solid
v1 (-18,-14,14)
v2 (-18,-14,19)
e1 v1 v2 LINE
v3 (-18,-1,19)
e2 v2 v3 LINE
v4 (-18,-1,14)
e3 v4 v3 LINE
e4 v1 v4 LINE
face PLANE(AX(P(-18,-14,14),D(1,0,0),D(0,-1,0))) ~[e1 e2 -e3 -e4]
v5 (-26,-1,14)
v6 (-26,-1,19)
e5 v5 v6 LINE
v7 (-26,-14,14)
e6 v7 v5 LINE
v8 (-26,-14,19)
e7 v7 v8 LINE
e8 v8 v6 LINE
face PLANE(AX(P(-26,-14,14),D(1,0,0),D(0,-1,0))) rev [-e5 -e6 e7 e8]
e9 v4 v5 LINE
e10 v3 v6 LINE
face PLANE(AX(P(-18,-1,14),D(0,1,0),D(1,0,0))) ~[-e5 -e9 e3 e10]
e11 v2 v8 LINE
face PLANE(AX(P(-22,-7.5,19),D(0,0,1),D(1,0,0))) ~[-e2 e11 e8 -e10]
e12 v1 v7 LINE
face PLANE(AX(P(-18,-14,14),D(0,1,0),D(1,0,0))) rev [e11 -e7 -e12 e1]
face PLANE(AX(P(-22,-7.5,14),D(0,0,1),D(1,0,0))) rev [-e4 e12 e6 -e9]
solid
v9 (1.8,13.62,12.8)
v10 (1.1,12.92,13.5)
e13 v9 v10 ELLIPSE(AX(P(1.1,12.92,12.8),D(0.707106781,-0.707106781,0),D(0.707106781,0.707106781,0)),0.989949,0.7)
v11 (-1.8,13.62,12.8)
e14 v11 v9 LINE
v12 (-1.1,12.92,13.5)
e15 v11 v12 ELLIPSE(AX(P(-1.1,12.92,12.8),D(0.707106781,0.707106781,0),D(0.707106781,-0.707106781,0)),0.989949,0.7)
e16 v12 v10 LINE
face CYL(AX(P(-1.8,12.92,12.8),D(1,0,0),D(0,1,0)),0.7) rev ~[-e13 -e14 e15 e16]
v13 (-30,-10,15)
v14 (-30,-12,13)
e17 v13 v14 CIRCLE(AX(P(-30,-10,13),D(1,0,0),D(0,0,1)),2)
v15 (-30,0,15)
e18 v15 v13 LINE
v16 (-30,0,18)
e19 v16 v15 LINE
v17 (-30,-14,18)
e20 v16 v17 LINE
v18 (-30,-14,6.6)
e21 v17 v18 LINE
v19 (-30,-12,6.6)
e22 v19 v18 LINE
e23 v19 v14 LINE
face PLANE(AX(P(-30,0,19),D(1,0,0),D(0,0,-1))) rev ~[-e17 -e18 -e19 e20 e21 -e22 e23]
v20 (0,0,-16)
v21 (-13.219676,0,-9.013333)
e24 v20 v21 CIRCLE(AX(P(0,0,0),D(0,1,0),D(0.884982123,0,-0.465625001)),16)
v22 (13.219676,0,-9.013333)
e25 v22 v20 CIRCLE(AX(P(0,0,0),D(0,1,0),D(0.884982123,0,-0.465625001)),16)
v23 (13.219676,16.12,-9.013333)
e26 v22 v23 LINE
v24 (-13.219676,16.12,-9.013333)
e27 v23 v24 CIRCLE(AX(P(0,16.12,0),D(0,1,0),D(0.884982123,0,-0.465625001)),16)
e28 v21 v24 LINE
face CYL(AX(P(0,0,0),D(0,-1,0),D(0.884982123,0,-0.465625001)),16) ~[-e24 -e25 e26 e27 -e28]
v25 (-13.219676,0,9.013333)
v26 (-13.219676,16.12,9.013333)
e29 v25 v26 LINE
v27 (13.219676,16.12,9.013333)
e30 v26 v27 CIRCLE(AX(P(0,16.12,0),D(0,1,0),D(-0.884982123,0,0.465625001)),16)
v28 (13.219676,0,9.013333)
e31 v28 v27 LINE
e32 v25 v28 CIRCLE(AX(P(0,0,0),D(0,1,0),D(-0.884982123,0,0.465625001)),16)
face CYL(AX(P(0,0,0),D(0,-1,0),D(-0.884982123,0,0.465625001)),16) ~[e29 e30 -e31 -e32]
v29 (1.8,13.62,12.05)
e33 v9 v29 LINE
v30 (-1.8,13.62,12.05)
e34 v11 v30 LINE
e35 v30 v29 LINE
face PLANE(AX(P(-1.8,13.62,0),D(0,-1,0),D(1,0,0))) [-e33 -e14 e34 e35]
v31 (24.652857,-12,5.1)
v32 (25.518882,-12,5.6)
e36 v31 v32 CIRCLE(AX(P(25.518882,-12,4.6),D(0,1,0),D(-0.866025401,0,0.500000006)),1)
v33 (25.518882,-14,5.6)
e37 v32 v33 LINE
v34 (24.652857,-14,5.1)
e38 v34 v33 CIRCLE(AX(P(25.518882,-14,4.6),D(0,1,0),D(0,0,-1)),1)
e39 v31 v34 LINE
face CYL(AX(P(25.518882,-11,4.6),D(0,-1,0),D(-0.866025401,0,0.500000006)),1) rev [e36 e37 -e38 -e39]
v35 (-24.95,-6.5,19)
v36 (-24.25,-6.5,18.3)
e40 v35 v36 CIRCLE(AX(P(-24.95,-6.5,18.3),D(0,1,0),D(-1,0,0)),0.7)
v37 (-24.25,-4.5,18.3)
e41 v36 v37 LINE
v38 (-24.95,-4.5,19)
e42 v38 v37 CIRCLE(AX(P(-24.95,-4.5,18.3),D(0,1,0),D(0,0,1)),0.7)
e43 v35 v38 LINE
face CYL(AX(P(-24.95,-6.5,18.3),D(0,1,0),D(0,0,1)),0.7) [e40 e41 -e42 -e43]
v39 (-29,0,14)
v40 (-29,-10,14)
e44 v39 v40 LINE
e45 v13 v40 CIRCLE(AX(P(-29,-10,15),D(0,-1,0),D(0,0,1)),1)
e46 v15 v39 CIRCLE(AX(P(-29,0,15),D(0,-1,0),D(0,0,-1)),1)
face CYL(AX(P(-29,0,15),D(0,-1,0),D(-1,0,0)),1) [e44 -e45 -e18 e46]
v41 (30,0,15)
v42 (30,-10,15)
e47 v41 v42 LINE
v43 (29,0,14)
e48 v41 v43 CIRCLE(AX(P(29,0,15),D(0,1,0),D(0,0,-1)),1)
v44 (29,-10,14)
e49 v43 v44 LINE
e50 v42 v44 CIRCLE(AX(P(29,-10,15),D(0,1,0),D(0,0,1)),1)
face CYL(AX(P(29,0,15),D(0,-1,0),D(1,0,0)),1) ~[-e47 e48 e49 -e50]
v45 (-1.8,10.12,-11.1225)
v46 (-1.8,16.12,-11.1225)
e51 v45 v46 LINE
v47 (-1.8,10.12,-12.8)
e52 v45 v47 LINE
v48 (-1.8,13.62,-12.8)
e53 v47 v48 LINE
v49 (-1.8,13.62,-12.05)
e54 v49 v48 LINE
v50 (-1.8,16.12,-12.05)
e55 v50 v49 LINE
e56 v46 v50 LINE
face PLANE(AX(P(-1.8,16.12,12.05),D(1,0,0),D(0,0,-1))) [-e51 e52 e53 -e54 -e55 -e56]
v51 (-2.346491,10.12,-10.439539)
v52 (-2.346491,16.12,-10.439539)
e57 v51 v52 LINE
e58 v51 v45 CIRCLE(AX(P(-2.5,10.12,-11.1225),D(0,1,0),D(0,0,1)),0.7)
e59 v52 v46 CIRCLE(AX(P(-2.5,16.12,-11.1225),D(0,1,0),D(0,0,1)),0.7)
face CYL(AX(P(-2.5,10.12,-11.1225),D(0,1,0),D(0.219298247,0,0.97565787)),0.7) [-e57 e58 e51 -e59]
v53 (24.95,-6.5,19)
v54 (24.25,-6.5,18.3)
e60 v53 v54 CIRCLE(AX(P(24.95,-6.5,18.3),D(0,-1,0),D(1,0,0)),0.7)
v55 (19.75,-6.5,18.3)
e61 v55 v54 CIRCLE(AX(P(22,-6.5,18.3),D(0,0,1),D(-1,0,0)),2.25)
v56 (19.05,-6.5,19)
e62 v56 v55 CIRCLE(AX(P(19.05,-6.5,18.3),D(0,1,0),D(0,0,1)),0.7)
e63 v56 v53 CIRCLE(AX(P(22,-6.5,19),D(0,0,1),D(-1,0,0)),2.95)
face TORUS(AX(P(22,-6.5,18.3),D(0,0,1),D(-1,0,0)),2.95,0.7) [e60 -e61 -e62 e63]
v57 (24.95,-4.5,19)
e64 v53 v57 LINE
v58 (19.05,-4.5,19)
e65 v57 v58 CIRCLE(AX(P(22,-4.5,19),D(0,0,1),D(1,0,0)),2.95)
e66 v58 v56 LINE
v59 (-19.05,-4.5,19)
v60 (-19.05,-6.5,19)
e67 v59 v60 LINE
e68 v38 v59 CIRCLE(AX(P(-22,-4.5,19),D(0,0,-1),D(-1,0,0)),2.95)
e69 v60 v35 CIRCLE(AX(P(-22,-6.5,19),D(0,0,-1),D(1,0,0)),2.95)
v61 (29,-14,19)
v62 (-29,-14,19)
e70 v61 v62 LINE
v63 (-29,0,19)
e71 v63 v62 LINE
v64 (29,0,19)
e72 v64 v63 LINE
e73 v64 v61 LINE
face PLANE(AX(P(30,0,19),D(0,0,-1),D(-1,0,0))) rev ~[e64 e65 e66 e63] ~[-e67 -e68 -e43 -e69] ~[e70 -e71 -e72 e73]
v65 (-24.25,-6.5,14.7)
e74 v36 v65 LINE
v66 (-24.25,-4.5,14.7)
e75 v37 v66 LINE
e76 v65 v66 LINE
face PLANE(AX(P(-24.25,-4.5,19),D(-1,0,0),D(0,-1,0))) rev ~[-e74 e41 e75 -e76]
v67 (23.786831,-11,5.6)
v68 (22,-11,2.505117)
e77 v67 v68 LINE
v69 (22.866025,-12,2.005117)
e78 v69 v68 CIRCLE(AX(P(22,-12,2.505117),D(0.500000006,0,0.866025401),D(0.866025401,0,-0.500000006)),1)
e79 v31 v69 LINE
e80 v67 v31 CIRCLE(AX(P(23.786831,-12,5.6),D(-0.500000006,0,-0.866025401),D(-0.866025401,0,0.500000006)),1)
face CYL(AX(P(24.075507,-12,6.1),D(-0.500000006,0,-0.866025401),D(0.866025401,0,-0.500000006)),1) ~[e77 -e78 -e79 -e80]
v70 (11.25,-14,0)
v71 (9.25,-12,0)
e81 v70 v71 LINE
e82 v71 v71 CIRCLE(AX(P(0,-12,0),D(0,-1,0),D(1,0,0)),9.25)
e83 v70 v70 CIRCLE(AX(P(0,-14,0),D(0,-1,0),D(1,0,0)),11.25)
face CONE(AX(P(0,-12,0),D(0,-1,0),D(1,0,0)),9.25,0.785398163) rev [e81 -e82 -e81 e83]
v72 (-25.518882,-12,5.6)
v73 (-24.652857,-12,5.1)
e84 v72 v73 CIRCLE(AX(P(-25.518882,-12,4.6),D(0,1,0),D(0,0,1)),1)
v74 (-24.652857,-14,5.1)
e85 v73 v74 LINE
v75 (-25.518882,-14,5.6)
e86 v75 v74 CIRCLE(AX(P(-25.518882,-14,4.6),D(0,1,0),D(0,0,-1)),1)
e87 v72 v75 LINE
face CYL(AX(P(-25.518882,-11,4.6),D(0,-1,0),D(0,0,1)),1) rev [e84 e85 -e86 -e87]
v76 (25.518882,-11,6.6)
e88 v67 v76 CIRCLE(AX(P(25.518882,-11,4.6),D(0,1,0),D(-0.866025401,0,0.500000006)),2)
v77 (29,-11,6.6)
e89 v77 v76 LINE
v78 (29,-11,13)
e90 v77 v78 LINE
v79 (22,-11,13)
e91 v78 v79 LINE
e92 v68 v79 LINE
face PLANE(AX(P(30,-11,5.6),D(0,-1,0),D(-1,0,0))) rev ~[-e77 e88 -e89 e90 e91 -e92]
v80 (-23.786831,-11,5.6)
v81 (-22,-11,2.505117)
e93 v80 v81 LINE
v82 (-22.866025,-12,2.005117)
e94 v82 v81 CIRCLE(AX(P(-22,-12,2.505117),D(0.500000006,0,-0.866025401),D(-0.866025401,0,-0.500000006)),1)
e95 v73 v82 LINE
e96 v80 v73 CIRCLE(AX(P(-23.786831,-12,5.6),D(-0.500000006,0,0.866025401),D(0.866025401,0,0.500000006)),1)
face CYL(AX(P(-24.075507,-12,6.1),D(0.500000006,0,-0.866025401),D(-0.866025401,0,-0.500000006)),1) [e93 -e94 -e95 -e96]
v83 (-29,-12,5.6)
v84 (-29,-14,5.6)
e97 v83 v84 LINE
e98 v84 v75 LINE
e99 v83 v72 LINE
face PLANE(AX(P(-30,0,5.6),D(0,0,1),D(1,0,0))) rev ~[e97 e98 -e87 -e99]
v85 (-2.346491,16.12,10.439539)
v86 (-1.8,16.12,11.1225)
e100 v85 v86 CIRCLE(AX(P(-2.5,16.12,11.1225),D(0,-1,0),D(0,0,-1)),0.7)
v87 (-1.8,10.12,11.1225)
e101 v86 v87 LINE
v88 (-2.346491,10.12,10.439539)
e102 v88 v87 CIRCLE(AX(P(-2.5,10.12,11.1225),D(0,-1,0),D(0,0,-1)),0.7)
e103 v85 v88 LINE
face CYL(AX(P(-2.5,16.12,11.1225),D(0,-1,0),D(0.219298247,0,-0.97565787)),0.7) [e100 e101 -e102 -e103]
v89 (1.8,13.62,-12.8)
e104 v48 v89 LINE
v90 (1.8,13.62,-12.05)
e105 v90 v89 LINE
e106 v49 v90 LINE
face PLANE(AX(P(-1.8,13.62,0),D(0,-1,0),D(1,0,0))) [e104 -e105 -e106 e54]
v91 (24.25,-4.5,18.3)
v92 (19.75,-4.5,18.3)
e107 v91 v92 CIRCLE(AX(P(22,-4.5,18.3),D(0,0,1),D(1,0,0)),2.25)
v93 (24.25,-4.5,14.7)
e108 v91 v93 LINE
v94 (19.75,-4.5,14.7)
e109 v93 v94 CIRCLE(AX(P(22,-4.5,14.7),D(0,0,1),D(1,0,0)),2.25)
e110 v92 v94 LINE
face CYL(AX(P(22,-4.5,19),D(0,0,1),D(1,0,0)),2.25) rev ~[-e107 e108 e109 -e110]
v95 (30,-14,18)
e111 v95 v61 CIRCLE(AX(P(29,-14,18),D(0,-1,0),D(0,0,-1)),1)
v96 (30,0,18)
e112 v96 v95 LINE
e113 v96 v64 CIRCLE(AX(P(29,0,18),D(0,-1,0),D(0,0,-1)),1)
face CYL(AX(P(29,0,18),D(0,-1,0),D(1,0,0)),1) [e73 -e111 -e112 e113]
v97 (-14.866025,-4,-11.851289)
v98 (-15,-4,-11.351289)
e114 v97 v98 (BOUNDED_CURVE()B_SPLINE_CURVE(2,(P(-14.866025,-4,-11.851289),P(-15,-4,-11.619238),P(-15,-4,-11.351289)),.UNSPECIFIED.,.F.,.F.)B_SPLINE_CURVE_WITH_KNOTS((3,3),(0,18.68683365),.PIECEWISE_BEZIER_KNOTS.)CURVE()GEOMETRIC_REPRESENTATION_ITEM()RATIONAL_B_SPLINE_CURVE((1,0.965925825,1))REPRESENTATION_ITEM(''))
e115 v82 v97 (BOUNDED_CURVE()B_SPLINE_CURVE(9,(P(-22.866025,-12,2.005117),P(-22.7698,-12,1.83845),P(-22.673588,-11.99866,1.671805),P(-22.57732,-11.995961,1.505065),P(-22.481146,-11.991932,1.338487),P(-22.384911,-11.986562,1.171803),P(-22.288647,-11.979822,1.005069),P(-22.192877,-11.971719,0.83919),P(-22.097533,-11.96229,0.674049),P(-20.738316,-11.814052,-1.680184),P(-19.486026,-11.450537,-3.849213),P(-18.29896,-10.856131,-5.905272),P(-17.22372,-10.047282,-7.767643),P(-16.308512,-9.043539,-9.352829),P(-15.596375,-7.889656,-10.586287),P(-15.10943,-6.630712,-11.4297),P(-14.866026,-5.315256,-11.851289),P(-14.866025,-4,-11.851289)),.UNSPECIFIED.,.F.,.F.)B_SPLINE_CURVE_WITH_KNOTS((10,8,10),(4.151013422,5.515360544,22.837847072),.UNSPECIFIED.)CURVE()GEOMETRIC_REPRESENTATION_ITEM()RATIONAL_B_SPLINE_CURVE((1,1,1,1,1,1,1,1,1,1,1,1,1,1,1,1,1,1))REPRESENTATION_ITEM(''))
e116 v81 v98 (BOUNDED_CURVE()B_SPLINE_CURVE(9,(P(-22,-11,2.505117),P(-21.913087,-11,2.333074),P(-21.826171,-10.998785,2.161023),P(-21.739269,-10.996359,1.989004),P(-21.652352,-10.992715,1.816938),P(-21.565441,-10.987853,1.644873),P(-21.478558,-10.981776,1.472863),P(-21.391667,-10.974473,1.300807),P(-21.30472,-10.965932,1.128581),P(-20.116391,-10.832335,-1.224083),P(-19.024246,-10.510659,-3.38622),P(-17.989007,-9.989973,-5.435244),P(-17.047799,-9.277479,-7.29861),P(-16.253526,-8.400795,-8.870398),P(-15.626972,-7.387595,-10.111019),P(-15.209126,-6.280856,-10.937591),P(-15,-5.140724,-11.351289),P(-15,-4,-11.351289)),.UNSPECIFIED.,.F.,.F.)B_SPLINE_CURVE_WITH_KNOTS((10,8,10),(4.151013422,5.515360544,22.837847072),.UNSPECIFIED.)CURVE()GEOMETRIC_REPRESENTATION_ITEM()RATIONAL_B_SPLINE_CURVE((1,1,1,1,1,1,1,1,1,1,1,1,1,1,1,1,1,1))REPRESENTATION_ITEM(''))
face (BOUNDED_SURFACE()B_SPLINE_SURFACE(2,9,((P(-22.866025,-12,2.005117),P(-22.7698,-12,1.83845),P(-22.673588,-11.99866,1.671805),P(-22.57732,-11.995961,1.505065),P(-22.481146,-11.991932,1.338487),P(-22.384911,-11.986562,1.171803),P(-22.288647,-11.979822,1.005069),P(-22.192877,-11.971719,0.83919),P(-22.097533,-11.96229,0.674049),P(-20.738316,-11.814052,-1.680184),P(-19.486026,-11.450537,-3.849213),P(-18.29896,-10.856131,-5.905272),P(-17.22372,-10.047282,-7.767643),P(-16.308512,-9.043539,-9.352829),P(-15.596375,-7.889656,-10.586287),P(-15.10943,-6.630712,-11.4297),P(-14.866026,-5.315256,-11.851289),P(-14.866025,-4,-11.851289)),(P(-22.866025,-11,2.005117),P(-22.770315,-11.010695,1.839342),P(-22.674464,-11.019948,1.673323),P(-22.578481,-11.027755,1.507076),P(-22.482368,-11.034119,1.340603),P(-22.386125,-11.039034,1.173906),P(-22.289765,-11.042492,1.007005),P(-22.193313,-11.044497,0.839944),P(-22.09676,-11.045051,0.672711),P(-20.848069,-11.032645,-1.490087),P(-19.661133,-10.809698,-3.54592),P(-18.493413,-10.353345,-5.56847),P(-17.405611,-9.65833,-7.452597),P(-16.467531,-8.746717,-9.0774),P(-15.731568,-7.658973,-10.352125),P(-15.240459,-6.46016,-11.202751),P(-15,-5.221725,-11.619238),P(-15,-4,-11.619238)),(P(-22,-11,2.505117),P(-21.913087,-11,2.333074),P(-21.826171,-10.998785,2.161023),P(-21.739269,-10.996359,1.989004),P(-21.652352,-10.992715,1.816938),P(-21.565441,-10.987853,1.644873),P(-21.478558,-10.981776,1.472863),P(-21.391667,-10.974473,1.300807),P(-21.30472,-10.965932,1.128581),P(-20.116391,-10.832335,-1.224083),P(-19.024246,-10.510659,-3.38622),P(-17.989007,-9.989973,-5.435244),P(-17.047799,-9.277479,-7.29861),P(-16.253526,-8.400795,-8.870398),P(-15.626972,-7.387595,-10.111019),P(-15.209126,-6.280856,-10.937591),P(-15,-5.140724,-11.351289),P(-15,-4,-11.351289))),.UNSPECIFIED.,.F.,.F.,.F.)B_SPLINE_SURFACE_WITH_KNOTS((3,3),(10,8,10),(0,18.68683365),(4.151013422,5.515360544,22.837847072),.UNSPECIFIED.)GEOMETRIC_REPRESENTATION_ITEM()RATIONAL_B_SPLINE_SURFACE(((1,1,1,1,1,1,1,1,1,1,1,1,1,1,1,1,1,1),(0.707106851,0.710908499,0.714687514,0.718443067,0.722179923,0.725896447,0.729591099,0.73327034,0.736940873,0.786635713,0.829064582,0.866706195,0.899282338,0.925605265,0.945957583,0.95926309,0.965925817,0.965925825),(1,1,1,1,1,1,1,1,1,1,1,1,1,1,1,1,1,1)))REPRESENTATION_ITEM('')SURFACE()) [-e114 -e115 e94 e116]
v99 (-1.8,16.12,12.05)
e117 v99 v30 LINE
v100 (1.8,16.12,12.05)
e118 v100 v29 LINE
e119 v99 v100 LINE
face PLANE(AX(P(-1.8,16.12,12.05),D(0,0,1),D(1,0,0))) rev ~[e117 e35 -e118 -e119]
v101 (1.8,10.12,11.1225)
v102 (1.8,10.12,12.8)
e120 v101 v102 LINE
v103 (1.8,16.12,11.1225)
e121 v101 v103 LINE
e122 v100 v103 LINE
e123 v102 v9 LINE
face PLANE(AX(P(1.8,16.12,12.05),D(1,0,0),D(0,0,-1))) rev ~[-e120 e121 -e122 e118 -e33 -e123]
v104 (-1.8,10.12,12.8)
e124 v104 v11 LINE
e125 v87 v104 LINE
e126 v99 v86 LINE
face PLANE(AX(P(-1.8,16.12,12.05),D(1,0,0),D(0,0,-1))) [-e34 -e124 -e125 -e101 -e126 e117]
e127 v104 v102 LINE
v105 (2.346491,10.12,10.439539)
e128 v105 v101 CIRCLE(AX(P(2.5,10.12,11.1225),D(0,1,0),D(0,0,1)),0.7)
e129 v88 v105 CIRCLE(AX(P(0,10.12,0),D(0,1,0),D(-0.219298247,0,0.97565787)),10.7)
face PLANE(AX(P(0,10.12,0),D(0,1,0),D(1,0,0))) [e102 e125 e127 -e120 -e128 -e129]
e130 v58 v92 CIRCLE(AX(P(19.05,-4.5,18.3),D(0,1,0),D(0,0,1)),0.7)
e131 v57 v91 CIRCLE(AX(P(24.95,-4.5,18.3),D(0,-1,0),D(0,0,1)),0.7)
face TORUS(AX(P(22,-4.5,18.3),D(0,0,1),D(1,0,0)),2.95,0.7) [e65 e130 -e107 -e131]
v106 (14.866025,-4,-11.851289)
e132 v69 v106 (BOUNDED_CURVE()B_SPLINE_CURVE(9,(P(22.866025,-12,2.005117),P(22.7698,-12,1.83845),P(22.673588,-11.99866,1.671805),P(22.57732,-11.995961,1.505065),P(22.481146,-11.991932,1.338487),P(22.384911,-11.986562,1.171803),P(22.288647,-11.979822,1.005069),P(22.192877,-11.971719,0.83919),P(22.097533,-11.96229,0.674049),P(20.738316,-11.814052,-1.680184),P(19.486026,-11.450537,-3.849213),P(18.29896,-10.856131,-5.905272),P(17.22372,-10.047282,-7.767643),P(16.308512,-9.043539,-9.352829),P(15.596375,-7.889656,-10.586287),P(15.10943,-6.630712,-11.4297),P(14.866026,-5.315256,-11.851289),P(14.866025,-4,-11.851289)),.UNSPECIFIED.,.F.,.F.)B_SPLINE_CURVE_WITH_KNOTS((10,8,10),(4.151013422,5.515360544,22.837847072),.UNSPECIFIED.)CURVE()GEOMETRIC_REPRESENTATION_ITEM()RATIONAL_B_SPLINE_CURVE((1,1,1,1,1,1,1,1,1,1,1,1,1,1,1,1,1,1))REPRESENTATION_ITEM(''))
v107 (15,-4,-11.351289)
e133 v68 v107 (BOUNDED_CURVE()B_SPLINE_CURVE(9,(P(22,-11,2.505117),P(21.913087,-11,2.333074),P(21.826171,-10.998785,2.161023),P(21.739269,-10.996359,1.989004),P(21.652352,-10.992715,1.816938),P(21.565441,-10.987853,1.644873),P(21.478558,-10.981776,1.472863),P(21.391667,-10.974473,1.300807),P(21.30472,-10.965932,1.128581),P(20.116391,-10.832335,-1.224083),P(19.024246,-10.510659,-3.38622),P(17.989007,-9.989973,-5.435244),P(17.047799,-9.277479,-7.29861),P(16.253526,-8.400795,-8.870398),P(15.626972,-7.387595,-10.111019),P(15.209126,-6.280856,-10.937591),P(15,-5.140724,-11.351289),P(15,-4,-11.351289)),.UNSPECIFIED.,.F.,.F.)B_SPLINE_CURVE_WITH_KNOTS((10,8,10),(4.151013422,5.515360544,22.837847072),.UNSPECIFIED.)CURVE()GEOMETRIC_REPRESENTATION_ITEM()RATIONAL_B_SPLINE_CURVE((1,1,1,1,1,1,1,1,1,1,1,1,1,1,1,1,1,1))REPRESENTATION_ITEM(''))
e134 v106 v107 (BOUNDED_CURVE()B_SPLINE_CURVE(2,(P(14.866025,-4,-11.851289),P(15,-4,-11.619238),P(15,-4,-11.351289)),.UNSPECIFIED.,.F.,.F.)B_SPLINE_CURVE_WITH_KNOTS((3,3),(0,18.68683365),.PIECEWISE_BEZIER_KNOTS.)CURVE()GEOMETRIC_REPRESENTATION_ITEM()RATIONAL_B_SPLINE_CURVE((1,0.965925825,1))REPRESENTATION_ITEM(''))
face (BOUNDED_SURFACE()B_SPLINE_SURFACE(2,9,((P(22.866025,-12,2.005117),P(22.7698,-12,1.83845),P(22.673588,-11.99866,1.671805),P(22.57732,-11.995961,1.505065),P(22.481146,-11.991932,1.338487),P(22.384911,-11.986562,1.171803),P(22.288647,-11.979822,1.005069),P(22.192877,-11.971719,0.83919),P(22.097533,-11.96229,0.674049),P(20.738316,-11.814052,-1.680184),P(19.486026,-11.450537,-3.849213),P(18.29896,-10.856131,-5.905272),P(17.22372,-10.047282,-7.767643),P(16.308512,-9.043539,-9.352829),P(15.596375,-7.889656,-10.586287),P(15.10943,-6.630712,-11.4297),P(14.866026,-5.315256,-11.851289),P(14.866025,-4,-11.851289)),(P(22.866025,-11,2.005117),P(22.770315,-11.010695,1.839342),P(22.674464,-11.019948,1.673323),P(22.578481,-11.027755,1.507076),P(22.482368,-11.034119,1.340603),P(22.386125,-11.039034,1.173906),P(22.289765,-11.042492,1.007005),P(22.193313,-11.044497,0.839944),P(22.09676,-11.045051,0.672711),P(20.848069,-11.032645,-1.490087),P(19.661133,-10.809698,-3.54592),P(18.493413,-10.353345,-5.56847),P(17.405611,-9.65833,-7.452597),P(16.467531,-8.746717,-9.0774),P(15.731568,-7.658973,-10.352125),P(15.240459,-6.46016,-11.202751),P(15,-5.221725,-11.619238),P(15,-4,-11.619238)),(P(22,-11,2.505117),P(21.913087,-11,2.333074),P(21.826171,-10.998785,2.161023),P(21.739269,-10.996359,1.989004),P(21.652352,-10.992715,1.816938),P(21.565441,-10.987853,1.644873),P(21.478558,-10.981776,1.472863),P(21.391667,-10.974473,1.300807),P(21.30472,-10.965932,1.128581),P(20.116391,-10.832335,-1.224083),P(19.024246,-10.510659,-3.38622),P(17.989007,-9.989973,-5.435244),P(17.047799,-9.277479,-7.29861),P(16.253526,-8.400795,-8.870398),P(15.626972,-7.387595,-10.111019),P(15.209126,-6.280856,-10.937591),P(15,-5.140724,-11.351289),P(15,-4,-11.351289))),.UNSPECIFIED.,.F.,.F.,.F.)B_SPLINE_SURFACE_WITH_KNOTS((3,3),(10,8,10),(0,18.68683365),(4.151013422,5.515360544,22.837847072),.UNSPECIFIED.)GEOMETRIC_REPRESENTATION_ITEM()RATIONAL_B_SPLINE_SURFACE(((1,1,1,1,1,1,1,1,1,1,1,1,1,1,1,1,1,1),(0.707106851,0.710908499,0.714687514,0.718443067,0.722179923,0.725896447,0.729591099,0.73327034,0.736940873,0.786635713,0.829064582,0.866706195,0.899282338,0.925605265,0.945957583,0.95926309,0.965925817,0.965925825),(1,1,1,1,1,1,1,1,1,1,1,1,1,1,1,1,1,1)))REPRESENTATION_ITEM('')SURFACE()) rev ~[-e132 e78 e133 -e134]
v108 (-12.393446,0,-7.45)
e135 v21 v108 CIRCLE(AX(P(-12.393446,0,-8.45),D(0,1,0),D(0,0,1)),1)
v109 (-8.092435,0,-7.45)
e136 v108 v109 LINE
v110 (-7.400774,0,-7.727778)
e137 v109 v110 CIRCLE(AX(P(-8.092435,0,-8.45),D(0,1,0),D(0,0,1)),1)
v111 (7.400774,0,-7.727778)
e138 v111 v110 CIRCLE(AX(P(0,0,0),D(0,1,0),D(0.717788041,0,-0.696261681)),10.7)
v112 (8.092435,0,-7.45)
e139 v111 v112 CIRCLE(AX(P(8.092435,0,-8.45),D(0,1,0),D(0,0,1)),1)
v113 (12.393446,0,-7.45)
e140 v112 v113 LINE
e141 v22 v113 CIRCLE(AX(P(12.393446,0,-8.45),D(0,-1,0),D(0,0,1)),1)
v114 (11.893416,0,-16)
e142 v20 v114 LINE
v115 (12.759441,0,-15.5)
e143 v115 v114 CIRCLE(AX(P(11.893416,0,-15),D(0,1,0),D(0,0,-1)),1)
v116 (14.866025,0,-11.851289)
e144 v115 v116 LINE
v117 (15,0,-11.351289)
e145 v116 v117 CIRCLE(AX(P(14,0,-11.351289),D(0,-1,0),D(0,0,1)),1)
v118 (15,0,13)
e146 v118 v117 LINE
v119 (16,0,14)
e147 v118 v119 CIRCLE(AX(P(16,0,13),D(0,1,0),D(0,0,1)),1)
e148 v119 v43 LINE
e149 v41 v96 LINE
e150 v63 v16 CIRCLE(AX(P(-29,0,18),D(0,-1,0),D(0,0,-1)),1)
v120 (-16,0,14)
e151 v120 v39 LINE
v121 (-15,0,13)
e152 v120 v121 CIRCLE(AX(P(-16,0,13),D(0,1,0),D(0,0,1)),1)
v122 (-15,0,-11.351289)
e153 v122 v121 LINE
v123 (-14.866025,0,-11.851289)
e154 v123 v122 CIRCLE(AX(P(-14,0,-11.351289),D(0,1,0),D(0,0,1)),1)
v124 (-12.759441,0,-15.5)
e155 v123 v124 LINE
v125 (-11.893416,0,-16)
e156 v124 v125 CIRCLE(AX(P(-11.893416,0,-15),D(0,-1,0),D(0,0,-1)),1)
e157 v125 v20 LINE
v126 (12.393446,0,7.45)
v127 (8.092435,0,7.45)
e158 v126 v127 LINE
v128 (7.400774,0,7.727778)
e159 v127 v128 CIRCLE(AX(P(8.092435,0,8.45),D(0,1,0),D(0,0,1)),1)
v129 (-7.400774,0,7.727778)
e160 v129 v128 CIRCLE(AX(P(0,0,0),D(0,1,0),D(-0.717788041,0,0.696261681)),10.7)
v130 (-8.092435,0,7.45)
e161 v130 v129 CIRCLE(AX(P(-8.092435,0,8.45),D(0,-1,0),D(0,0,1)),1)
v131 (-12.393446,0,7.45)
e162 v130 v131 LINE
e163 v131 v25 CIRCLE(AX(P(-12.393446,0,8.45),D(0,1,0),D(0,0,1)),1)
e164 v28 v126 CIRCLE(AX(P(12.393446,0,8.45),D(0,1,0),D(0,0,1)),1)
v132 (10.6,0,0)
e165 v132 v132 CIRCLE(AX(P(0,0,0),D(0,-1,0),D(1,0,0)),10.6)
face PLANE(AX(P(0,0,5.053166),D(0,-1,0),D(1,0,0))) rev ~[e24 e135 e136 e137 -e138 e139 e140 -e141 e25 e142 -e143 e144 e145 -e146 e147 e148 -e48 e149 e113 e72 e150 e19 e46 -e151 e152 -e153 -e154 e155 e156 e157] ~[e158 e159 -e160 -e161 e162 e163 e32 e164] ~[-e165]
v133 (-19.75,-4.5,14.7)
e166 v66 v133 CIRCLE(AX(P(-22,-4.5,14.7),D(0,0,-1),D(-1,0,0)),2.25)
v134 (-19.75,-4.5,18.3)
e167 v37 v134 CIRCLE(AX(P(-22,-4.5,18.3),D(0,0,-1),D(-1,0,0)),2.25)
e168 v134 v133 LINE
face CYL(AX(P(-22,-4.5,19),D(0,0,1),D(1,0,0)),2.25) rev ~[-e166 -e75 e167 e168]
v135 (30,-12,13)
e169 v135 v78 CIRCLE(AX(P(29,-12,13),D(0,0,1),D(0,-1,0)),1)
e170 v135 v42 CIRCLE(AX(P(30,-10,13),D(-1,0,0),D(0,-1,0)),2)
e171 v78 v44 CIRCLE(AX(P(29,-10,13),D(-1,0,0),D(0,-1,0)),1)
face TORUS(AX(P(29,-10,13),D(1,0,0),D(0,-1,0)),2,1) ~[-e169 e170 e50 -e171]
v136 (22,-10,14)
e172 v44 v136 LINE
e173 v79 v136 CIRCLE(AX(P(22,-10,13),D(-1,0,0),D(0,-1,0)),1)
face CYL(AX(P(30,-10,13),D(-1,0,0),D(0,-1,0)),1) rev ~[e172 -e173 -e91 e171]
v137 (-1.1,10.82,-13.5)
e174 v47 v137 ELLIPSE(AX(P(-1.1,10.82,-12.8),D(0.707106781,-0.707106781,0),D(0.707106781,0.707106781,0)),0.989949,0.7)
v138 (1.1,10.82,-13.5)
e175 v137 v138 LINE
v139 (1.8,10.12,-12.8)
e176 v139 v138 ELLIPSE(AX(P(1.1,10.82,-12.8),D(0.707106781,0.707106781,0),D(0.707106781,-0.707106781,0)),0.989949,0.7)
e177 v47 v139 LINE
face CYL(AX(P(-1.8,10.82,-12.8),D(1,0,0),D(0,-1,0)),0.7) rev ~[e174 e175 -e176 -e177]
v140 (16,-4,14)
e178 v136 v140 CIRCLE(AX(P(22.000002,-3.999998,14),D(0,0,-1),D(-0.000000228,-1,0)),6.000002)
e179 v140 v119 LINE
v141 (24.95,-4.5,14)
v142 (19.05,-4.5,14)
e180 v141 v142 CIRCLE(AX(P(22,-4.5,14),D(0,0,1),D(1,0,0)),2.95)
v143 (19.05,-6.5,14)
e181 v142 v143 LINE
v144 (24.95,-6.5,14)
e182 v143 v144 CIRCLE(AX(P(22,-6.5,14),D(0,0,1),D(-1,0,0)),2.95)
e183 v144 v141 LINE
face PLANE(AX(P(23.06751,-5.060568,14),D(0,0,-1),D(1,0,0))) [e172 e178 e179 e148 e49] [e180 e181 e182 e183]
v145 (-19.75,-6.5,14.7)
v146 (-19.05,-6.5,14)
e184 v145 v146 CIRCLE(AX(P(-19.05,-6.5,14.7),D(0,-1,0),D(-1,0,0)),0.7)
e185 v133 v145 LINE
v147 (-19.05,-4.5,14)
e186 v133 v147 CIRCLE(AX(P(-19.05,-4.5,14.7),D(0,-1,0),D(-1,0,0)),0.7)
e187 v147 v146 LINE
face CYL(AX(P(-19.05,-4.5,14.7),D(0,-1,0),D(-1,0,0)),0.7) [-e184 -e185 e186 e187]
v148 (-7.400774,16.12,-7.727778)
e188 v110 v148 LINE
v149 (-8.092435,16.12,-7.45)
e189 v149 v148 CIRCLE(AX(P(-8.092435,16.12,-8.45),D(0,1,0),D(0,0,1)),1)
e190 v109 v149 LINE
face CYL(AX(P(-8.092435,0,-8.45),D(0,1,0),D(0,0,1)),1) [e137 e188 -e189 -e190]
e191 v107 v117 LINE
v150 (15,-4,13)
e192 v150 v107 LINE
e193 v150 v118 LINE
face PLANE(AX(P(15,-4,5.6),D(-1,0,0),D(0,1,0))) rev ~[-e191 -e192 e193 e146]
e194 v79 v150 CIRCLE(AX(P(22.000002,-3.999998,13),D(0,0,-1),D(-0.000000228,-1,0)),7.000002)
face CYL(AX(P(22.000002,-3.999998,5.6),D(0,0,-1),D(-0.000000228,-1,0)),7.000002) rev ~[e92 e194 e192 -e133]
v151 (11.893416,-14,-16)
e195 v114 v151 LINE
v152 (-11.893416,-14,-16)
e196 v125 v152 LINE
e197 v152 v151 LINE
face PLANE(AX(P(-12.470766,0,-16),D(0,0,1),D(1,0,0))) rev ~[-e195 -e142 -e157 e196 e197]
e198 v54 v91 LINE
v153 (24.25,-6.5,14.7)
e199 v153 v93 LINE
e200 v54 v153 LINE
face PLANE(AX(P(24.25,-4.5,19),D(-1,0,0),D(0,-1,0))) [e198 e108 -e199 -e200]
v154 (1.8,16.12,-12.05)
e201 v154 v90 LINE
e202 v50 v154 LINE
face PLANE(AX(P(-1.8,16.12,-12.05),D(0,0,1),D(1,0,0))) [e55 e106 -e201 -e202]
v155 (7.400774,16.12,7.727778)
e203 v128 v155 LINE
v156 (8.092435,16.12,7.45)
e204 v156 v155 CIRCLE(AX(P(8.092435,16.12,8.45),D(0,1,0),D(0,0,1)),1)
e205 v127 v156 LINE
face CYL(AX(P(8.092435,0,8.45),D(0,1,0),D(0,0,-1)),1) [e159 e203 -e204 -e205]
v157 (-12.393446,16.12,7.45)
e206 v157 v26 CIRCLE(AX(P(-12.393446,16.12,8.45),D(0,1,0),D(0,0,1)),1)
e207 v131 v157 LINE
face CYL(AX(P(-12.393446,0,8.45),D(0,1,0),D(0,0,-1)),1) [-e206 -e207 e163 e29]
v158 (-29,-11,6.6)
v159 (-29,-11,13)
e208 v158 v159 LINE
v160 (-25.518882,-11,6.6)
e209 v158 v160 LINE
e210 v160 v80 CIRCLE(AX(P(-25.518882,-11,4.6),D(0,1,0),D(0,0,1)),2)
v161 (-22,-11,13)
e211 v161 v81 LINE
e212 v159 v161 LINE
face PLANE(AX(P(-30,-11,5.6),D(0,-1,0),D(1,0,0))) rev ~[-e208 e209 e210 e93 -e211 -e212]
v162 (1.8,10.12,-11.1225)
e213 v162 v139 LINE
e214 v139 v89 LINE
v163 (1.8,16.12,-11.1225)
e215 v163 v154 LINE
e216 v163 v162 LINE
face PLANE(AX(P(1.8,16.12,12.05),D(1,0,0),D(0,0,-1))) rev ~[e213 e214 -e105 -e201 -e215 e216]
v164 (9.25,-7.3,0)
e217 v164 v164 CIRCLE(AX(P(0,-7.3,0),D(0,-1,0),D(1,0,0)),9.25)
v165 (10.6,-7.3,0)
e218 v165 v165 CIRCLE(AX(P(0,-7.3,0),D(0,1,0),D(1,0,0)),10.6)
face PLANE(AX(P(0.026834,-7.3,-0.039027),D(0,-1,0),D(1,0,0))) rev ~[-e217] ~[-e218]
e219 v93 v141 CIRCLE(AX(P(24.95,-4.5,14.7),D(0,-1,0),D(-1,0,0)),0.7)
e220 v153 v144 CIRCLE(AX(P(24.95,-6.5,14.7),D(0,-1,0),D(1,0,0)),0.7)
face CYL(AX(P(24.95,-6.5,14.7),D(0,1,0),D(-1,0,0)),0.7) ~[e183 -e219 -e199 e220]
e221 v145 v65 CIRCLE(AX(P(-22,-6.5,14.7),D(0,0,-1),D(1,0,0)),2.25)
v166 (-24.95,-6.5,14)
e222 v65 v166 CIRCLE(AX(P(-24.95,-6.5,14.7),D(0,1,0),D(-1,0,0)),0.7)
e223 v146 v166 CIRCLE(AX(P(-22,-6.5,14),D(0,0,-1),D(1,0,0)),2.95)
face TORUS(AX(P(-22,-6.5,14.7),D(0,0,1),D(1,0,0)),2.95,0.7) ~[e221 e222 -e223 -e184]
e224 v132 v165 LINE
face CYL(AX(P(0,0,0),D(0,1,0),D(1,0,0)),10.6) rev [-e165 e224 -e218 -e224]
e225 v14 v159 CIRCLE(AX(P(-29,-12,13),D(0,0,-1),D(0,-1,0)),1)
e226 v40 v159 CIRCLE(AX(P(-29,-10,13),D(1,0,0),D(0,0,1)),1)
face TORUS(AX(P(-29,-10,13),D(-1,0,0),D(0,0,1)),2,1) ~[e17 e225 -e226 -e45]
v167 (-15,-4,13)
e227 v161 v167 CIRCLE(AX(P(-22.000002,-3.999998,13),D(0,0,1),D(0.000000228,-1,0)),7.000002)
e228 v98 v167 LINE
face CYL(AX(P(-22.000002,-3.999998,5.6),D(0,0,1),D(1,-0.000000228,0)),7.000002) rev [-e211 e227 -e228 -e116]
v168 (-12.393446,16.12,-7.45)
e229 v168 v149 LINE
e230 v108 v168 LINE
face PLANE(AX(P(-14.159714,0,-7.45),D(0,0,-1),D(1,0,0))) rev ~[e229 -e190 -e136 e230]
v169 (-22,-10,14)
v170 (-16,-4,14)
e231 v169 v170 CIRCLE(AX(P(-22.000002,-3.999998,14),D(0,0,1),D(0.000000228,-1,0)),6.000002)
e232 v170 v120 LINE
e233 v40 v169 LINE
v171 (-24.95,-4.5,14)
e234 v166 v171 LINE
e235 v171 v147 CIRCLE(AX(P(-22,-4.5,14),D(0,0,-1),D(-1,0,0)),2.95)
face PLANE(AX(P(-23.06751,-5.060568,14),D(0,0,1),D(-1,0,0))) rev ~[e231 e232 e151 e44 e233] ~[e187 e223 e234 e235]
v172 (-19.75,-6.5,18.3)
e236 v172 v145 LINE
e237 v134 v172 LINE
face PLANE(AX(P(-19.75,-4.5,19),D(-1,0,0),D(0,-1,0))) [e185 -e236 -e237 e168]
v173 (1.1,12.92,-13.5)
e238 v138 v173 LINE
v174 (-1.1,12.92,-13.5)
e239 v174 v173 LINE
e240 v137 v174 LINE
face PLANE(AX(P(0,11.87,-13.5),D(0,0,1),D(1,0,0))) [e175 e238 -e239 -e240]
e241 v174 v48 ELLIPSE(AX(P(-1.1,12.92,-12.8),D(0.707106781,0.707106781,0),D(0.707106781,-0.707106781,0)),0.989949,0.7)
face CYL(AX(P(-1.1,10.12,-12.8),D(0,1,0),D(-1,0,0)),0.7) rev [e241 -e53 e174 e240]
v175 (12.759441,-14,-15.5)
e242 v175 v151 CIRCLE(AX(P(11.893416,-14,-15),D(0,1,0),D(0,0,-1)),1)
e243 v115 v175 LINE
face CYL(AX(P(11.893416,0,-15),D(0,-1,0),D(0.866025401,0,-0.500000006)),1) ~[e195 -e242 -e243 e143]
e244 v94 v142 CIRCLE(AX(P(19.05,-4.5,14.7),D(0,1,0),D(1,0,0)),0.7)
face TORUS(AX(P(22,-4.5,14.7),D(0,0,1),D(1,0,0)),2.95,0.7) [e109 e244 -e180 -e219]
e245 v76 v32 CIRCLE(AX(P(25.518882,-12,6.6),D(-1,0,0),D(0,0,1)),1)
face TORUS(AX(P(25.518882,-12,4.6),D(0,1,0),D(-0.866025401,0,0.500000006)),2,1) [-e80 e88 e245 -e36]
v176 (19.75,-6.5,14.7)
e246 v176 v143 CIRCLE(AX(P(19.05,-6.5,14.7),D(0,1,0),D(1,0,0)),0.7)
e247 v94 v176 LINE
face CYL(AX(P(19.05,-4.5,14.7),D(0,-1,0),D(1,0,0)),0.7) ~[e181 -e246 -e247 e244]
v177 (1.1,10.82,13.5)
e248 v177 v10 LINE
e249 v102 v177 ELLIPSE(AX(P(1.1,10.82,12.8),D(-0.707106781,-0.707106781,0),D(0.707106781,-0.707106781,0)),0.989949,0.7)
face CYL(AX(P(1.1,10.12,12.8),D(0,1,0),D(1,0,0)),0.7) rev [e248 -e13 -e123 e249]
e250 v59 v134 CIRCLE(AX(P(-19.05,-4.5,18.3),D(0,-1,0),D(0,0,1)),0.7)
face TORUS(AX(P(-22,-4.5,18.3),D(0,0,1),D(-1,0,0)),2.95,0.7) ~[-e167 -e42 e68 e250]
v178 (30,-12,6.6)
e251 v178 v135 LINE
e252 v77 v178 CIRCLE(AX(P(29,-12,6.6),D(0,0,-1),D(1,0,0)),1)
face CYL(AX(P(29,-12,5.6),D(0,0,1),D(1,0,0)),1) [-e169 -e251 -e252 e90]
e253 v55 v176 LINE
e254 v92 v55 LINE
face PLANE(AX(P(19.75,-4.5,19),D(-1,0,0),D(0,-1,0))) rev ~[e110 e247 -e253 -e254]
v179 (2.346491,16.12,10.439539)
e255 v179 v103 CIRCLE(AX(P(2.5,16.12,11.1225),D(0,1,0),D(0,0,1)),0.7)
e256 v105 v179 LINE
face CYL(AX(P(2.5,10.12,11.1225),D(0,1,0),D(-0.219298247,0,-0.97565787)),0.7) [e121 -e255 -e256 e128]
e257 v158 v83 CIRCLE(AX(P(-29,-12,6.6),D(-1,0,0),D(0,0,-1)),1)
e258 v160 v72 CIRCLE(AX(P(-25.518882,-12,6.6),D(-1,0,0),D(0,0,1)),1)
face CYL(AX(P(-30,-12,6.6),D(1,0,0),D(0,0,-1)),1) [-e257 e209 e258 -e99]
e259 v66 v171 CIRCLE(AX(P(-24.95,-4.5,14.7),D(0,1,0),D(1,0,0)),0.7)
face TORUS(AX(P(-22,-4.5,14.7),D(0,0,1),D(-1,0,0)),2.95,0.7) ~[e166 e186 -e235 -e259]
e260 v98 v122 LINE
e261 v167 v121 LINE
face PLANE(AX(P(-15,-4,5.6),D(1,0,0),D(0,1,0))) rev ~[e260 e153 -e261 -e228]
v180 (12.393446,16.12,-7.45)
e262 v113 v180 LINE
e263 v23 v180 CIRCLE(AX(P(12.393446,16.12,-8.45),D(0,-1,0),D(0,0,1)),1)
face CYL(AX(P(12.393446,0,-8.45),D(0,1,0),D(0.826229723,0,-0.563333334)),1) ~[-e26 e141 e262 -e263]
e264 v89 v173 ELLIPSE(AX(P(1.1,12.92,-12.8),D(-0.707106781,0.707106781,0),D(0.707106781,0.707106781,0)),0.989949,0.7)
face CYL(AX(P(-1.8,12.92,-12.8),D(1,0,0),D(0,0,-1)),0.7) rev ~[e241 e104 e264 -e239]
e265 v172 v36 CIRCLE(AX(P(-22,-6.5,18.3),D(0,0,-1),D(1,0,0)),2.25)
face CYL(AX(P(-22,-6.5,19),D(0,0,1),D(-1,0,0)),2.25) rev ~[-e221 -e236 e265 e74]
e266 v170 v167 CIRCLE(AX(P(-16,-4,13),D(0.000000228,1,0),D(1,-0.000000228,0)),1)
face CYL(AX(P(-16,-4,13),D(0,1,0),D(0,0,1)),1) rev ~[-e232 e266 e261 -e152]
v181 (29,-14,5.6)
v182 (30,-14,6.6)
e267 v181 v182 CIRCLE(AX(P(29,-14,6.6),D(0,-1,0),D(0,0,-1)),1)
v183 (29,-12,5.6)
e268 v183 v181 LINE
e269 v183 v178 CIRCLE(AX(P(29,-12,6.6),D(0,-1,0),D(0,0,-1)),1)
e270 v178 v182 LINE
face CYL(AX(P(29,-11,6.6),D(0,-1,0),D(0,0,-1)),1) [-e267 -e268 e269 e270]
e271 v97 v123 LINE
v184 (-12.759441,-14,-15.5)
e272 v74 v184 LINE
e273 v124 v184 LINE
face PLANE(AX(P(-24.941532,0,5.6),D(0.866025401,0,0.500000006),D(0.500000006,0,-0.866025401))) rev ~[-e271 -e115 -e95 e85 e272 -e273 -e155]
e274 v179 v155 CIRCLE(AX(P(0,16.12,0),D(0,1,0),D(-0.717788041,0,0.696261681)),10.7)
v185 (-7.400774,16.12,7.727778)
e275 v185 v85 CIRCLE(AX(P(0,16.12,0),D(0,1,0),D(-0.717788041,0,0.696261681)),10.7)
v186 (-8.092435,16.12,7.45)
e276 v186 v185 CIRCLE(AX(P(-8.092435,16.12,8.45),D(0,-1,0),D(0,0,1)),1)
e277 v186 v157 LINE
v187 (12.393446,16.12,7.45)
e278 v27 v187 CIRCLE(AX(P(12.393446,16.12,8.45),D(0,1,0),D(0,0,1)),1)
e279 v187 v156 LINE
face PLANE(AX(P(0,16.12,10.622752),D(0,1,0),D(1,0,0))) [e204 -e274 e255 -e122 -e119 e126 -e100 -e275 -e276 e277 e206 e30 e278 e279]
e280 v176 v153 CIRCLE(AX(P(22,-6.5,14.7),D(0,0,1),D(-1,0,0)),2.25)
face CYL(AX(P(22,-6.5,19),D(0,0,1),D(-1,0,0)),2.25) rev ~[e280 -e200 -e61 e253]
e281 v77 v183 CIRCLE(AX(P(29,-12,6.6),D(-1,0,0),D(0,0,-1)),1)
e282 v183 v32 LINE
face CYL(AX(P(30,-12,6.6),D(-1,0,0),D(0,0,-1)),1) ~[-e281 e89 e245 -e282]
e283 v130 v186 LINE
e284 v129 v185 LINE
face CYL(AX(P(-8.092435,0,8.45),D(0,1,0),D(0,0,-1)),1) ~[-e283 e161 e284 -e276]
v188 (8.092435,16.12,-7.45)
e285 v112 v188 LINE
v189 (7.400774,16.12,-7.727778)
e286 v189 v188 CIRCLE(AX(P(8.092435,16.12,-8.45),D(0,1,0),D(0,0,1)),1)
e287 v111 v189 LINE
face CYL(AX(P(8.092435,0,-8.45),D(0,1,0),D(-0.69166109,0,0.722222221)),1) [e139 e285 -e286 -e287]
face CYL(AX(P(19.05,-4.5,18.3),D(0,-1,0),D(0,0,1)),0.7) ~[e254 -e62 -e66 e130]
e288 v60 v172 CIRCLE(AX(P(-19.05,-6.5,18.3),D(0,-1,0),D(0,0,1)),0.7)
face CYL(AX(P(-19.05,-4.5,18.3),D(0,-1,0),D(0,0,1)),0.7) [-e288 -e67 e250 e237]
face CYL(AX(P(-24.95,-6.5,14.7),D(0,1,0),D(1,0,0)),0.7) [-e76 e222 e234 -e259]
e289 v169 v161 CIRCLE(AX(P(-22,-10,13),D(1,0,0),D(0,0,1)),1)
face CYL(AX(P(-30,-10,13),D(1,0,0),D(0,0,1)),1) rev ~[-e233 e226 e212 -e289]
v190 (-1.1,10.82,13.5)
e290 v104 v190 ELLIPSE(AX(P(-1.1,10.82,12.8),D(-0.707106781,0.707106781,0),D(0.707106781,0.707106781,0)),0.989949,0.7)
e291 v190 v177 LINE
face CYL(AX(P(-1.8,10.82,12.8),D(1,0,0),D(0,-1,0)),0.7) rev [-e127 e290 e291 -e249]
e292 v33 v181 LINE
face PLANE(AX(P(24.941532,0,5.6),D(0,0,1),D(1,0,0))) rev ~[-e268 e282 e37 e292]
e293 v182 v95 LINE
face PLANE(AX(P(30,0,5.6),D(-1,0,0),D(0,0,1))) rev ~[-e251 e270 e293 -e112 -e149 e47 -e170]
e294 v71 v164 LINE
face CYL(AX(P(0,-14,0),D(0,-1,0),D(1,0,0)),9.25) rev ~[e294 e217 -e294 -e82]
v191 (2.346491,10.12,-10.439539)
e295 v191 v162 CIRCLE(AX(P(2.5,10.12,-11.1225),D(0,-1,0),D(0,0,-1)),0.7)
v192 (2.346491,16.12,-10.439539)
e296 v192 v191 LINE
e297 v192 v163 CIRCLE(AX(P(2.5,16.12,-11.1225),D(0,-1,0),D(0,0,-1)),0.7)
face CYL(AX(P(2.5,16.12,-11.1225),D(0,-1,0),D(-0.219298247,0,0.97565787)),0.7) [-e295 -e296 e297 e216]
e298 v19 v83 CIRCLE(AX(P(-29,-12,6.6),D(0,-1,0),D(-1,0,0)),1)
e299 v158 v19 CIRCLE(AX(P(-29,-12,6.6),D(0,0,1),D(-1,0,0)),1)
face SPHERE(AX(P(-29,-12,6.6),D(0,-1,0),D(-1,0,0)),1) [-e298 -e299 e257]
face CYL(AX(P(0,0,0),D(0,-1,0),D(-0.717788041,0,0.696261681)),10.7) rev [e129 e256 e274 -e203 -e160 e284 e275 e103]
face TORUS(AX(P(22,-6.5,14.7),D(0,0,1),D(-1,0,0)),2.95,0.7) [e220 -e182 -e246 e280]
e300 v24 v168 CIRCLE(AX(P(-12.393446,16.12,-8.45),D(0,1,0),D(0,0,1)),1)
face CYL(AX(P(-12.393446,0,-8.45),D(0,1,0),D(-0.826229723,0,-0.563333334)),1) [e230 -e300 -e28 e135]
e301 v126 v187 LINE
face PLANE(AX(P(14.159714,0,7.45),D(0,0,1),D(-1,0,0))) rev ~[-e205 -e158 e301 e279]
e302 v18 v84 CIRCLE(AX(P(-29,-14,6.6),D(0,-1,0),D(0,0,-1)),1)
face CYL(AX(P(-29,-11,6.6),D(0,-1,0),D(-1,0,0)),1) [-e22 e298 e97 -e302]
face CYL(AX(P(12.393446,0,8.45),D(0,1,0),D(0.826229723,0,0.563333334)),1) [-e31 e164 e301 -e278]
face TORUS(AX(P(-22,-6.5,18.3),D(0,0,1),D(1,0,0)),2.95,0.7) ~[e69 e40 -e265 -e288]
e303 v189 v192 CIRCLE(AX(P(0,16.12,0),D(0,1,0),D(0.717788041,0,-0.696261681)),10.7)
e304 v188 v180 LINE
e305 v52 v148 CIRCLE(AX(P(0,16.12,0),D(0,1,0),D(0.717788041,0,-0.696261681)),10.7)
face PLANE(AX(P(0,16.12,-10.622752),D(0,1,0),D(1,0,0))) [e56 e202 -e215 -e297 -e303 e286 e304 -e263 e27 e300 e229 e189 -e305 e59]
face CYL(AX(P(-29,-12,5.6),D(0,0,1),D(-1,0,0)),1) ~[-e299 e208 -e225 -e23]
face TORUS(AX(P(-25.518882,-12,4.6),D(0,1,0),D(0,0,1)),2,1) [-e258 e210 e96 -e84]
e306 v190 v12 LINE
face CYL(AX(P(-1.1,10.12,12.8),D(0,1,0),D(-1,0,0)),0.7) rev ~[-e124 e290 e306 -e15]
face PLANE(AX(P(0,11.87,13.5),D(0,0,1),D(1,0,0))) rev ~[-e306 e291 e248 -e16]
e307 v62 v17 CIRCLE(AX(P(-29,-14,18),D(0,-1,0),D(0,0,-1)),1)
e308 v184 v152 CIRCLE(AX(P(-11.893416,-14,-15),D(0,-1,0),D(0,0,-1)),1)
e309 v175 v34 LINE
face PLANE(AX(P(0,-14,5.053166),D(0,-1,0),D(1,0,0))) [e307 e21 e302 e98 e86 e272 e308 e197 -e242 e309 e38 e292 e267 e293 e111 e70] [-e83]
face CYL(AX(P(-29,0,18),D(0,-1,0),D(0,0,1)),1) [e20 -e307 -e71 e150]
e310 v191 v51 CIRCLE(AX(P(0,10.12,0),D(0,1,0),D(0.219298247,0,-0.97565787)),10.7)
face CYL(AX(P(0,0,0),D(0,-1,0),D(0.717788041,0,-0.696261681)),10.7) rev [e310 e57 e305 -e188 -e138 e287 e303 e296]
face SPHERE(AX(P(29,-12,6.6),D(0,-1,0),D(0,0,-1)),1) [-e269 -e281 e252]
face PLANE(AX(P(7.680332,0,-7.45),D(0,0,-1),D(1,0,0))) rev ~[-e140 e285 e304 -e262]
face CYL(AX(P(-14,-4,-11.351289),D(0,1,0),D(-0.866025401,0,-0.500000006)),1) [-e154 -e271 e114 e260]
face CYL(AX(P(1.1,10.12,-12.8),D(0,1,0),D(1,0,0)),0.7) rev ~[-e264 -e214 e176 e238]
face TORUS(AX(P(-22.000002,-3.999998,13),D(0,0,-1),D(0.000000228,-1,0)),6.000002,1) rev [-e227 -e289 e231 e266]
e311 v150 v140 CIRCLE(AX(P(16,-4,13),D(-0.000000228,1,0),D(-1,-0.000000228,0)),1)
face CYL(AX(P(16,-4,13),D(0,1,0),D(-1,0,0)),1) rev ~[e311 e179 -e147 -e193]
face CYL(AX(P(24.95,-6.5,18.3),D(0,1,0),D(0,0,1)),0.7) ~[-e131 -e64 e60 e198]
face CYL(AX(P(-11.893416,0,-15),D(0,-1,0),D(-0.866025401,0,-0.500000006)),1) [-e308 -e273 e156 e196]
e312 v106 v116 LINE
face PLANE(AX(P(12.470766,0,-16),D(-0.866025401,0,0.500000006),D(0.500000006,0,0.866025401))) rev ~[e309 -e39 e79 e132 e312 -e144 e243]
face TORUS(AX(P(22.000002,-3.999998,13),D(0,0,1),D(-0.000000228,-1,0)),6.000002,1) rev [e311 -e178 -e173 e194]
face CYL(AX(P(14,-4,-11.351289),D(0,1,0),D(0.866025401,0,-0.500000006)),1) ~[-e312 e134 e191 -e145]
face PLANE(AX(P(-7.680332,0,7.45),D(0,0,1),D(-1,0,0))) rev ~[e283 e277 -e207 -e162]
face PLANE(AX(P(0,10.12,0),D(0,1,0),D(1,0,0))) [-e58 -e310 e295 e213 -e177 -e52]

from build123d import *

# Parameters (mm, degrees)
SKETCH_R             = 10.6
PAD_DEPTH            = 14
PAD001_DEPTH         = 16.12
POCKET002_DEPTH      = 8.4
POCKET002_DEPTH_BACK = -100
POCKET003_DEPTH      = 5
SKETCH007_W          = 3.6
SKETCH007_H          = 24.1
POCKET_DEPTH         = 6
SKETCH003_W          = 3.6
SKETCH003_H          = 3.5
POCKET004_DEPTH      = 13.5
SKETCH008_R          = 10.817908
SKETCH008_R_2        = 9.25
PAD002_DEPTH         = 6.7
CHAMFER_SIZE         = 2
FILLET_R             = 1
FILLET001_R          = 0.7
BOX001_W             = 8
BOX001_H             = 13
BOX001_DEPTH         = 5


with BuildPart() as body:
    # Sketch → Pad (new body)
    with BuildSketch(Plane.XZ):
        Polygon((12.470766, -16), (24.941532, 5.6), (30, 5.6), (30, 19), (-30, 19), (-30, 5.6), (-24.941532, 5.6), (-12.470766, -16), align=None)
        Circle(SKETCH_R, mode=Mode.SUBTRACT)
    extrude(amount=PAD_DEPTH)

    # Sketch001 → Pad001 (join)
    with BuildSketch(Plane(origin=(0, 0, 0), x_dir=(1, 0, 0), z_dir=(0, 1, 0))):
        with BuildLine():
            ThreePointArc((-14.159714, -7.45), (0, -16), (14.159714, -7.45))
            Line((14.159714, -7.45), (7.680332, -7.45))
            ThreePointArc((-7.680332, -7.45), (0, -10.7), (7.680332, -7.45))
            Line((-7.680332, -7.45), (-14.159714, -7.45))
        make_face()
        with BuildLine():
            Line((-14.159714, 7.45), (-7.680332, 7.45))
            ThreePointArc((7.680332, 7.45), (0, 10.7), (-7.680332, 7.45))
            Line((7.680332, 7.45), (14.159714, 7.45))
            ThreePointArc((14.159714, 7.45), (0, 16), (-14.159714, 7.45))
        make_face()
    extrude(amount=PAD001_DEPTH)

    # Sketch004 → Pocket002 (cut, two sides)
    with BuildSketch(Plane(origin=(0, 0, 5.6), x_dir=(1, 0, 0), z_dir=(0, 0, -1))) as pocket002_sk:
        with BuildLine():
            Line((-30, 11), (-22, 11))
            ThreePointArc((-15, 4), (-17.050253, 8.949747), (-22, 11))
            Line((-15, 4), (-15, 0))
            Line((-15, 0), (-30, 0))
            Line((-30, 0), (-30, 11))
        make_face()
        with BuildLine():
            Line((30, 11), (22, 11))
            ThreePointArc((22, 11), (17.050253, 8.949747), (15, 4))
            Line((15, 4), (15, 0))
            Line((15, 0), (30, 0))
            Line((30, 0), (30, 11))
        make_face()
    extrude(amount=-POCKET002_DEPTH, mode=Mode.SUBTRACT)
    extrude(pocket002_sk.sketch, amount=-POCKET002_DEPTH_BACK, mode=Mode.SUBTRACT)

    # Sketch005 (on Face11 of Pocket002) → Pocket003 (cut)
    with BuildSketch(Plane(origin=(0, 0, 19), x_dir=(-1, 0, 0), z_dir=(0, 0, 1))):
        with BuildLine():
            ThreePointArc((-24.25, 4.5), (-22, 2.25), (-19.75, 4.5))
            Line((-19.75, 4.5), (-19.75, 6.5))
            ThreePointArc((-19.75, 6.5), (-22, 8.75), (-24.25, 6.5))
            Line((-24.25, 4.5), (-24.25, 6.5))
        make_face()
        with BuildLine():
            ThreePointArc((19.75, 4.5), (22, 2.25), (24.25, 4.5))
            Line((24.25, 4.5), (24.25, 6.5))
            ThreePointArc((24.25, 6.5), (22, 8.75), (19.75, 6.5))
            Line((19.75, 4.5), (19.75, 6.5))
        make_face()
    extrude(amount=-POCKET003_DEPTH, mode=Mode.SUBTRACT)

    # Sketch007 → Pocket (cut)
    with BuildSketch(Plane(origin=(0, 16.12, 0), x_dir=(1, 0, 0), z_dir=(0, 1, 0))):
        Rectangle(SKETCH007_W, SKETCH007_H)
    extrude(amount=-POCKET_DEPTH, mode=Mode.SUBTRACT)

    # Sketch003 → Pocket004 (cut, symmetric)
    with BuildSketch(Plane.XY):
        with Locations((0, 11.87)):
            Rectangle(SKETCH003_W, SKETCH003_H)
    extrude(amount=POCKET004_DEPTH, both=True, mode=Mode.SUBTRACT)

    # Sketch008 (on Face7 of Pocket004) → Pad002 (join)
    with BuildSketch(Plane.XZ.offset(14)):
        with Locations((0.026834, -0.039027)):
            Circle(SKETCH008_R)
        Circle(SKETCH008_R_2, mode=Mode.SUBTRACT)
    extrude(amount=-PAD002_DEPTH)

    # Chamfer
    chamfer_edges = [body.edges().sort_by_distance(p)[0] for p in [
        (-9.25, -14, 0),
    ]]
    chamfer(chamfer_edges, length=CHAMFER_SIZE)

    # Fillet
    fillet_edges = [body.edges().sort_by_distance(p)[0] for p in [
        (30, -7, 19),
        (30, -5.5, 14),
        (30, -12.5, 5.6),
        (24.941532, -12.5, 5.6),
        (12.470766, -7, -16),
        (-12.470766, -7, -16),
        (-24.941532, -12.5, 5.6),
        (-30, -12.5, 5.6),
        (-30, -5.5, 14),
        (-30, -7, 19),
        (-30, -11, 9.8),
        (-27.470766, -11, 5.6),
        (-15, -2, -11.619238),
        (-15, -2, 14),
        (15, -2, 14),
        (15, -2, -11.619238),
        (27.470766, -11, 5.6),
        (30, -11, 9.8),
        (14.159714, 8.06, 7.45),
        (-14.159714, 8.06, 7.45),
        (-14.159714, 8.06, -7.45),
        (14.159714, 8.06, -7.45),
        (-7.680332, 8.06, 7.45),
        (7.680332, 8.06, 7.45),
        (7.680332, 8.06, -7.45),
        (-7.680332, 8.06, -7.45),
    ]]
    fillet(fillet_edges, radius=FILLET_R)

    # Fillet001
    fillet001_edges = [body.edges().sort_by_distance(p)[0] for p in [
        (1.8, 14.87, 10.547512),
        (-1.8, 14.87, 10.547512),
        (1.8, 14.87, -10.547512),
        (-1.8, 14.87, -10.547512),
        (0, 10.12, -13.5),
        (1.8, 11.87, -13.5),
        (0, 13.62, -13.5),
        (-1.8, 11.87, -13.5),
        (0, 10.12, 13.5),
        (1.8, 11.87, 13.5),
        (0, 13.62, 13.5),
        (-1.8, 11.87, 13.5),
        (-19.75, -5.5, 19),
        (-19.75, -5.5, 14),
        (19.75, -5.5, 14),
        (19.75, -5.5, 19),
    ]]
    fillet(fillet001_edges, radius=FILLET001_R)


with BuildPart() as cube001:
    # Box001 → Box001 (new body)
    with BuildSketch(Plane(origin=(18, -14, 14), x_dir=(1, 0, 0), z_dir=(0, 0, 1))):
        with Locations((4, 6.5)):
            Rectangle(BOX001_W, BOX001_H)
    extrude(amount=BOX001_DEPTH)


with BuildPart() as density_infill:
    # Part__Mirroring: instance of Cube001
    add(cube001.part.mirror(Plane(origin=(0, 0, 0), x_dir=(0, -1, 0), z_dir=(1, 0, 0))))


solid = Compound([body.part, density_infill.part])
